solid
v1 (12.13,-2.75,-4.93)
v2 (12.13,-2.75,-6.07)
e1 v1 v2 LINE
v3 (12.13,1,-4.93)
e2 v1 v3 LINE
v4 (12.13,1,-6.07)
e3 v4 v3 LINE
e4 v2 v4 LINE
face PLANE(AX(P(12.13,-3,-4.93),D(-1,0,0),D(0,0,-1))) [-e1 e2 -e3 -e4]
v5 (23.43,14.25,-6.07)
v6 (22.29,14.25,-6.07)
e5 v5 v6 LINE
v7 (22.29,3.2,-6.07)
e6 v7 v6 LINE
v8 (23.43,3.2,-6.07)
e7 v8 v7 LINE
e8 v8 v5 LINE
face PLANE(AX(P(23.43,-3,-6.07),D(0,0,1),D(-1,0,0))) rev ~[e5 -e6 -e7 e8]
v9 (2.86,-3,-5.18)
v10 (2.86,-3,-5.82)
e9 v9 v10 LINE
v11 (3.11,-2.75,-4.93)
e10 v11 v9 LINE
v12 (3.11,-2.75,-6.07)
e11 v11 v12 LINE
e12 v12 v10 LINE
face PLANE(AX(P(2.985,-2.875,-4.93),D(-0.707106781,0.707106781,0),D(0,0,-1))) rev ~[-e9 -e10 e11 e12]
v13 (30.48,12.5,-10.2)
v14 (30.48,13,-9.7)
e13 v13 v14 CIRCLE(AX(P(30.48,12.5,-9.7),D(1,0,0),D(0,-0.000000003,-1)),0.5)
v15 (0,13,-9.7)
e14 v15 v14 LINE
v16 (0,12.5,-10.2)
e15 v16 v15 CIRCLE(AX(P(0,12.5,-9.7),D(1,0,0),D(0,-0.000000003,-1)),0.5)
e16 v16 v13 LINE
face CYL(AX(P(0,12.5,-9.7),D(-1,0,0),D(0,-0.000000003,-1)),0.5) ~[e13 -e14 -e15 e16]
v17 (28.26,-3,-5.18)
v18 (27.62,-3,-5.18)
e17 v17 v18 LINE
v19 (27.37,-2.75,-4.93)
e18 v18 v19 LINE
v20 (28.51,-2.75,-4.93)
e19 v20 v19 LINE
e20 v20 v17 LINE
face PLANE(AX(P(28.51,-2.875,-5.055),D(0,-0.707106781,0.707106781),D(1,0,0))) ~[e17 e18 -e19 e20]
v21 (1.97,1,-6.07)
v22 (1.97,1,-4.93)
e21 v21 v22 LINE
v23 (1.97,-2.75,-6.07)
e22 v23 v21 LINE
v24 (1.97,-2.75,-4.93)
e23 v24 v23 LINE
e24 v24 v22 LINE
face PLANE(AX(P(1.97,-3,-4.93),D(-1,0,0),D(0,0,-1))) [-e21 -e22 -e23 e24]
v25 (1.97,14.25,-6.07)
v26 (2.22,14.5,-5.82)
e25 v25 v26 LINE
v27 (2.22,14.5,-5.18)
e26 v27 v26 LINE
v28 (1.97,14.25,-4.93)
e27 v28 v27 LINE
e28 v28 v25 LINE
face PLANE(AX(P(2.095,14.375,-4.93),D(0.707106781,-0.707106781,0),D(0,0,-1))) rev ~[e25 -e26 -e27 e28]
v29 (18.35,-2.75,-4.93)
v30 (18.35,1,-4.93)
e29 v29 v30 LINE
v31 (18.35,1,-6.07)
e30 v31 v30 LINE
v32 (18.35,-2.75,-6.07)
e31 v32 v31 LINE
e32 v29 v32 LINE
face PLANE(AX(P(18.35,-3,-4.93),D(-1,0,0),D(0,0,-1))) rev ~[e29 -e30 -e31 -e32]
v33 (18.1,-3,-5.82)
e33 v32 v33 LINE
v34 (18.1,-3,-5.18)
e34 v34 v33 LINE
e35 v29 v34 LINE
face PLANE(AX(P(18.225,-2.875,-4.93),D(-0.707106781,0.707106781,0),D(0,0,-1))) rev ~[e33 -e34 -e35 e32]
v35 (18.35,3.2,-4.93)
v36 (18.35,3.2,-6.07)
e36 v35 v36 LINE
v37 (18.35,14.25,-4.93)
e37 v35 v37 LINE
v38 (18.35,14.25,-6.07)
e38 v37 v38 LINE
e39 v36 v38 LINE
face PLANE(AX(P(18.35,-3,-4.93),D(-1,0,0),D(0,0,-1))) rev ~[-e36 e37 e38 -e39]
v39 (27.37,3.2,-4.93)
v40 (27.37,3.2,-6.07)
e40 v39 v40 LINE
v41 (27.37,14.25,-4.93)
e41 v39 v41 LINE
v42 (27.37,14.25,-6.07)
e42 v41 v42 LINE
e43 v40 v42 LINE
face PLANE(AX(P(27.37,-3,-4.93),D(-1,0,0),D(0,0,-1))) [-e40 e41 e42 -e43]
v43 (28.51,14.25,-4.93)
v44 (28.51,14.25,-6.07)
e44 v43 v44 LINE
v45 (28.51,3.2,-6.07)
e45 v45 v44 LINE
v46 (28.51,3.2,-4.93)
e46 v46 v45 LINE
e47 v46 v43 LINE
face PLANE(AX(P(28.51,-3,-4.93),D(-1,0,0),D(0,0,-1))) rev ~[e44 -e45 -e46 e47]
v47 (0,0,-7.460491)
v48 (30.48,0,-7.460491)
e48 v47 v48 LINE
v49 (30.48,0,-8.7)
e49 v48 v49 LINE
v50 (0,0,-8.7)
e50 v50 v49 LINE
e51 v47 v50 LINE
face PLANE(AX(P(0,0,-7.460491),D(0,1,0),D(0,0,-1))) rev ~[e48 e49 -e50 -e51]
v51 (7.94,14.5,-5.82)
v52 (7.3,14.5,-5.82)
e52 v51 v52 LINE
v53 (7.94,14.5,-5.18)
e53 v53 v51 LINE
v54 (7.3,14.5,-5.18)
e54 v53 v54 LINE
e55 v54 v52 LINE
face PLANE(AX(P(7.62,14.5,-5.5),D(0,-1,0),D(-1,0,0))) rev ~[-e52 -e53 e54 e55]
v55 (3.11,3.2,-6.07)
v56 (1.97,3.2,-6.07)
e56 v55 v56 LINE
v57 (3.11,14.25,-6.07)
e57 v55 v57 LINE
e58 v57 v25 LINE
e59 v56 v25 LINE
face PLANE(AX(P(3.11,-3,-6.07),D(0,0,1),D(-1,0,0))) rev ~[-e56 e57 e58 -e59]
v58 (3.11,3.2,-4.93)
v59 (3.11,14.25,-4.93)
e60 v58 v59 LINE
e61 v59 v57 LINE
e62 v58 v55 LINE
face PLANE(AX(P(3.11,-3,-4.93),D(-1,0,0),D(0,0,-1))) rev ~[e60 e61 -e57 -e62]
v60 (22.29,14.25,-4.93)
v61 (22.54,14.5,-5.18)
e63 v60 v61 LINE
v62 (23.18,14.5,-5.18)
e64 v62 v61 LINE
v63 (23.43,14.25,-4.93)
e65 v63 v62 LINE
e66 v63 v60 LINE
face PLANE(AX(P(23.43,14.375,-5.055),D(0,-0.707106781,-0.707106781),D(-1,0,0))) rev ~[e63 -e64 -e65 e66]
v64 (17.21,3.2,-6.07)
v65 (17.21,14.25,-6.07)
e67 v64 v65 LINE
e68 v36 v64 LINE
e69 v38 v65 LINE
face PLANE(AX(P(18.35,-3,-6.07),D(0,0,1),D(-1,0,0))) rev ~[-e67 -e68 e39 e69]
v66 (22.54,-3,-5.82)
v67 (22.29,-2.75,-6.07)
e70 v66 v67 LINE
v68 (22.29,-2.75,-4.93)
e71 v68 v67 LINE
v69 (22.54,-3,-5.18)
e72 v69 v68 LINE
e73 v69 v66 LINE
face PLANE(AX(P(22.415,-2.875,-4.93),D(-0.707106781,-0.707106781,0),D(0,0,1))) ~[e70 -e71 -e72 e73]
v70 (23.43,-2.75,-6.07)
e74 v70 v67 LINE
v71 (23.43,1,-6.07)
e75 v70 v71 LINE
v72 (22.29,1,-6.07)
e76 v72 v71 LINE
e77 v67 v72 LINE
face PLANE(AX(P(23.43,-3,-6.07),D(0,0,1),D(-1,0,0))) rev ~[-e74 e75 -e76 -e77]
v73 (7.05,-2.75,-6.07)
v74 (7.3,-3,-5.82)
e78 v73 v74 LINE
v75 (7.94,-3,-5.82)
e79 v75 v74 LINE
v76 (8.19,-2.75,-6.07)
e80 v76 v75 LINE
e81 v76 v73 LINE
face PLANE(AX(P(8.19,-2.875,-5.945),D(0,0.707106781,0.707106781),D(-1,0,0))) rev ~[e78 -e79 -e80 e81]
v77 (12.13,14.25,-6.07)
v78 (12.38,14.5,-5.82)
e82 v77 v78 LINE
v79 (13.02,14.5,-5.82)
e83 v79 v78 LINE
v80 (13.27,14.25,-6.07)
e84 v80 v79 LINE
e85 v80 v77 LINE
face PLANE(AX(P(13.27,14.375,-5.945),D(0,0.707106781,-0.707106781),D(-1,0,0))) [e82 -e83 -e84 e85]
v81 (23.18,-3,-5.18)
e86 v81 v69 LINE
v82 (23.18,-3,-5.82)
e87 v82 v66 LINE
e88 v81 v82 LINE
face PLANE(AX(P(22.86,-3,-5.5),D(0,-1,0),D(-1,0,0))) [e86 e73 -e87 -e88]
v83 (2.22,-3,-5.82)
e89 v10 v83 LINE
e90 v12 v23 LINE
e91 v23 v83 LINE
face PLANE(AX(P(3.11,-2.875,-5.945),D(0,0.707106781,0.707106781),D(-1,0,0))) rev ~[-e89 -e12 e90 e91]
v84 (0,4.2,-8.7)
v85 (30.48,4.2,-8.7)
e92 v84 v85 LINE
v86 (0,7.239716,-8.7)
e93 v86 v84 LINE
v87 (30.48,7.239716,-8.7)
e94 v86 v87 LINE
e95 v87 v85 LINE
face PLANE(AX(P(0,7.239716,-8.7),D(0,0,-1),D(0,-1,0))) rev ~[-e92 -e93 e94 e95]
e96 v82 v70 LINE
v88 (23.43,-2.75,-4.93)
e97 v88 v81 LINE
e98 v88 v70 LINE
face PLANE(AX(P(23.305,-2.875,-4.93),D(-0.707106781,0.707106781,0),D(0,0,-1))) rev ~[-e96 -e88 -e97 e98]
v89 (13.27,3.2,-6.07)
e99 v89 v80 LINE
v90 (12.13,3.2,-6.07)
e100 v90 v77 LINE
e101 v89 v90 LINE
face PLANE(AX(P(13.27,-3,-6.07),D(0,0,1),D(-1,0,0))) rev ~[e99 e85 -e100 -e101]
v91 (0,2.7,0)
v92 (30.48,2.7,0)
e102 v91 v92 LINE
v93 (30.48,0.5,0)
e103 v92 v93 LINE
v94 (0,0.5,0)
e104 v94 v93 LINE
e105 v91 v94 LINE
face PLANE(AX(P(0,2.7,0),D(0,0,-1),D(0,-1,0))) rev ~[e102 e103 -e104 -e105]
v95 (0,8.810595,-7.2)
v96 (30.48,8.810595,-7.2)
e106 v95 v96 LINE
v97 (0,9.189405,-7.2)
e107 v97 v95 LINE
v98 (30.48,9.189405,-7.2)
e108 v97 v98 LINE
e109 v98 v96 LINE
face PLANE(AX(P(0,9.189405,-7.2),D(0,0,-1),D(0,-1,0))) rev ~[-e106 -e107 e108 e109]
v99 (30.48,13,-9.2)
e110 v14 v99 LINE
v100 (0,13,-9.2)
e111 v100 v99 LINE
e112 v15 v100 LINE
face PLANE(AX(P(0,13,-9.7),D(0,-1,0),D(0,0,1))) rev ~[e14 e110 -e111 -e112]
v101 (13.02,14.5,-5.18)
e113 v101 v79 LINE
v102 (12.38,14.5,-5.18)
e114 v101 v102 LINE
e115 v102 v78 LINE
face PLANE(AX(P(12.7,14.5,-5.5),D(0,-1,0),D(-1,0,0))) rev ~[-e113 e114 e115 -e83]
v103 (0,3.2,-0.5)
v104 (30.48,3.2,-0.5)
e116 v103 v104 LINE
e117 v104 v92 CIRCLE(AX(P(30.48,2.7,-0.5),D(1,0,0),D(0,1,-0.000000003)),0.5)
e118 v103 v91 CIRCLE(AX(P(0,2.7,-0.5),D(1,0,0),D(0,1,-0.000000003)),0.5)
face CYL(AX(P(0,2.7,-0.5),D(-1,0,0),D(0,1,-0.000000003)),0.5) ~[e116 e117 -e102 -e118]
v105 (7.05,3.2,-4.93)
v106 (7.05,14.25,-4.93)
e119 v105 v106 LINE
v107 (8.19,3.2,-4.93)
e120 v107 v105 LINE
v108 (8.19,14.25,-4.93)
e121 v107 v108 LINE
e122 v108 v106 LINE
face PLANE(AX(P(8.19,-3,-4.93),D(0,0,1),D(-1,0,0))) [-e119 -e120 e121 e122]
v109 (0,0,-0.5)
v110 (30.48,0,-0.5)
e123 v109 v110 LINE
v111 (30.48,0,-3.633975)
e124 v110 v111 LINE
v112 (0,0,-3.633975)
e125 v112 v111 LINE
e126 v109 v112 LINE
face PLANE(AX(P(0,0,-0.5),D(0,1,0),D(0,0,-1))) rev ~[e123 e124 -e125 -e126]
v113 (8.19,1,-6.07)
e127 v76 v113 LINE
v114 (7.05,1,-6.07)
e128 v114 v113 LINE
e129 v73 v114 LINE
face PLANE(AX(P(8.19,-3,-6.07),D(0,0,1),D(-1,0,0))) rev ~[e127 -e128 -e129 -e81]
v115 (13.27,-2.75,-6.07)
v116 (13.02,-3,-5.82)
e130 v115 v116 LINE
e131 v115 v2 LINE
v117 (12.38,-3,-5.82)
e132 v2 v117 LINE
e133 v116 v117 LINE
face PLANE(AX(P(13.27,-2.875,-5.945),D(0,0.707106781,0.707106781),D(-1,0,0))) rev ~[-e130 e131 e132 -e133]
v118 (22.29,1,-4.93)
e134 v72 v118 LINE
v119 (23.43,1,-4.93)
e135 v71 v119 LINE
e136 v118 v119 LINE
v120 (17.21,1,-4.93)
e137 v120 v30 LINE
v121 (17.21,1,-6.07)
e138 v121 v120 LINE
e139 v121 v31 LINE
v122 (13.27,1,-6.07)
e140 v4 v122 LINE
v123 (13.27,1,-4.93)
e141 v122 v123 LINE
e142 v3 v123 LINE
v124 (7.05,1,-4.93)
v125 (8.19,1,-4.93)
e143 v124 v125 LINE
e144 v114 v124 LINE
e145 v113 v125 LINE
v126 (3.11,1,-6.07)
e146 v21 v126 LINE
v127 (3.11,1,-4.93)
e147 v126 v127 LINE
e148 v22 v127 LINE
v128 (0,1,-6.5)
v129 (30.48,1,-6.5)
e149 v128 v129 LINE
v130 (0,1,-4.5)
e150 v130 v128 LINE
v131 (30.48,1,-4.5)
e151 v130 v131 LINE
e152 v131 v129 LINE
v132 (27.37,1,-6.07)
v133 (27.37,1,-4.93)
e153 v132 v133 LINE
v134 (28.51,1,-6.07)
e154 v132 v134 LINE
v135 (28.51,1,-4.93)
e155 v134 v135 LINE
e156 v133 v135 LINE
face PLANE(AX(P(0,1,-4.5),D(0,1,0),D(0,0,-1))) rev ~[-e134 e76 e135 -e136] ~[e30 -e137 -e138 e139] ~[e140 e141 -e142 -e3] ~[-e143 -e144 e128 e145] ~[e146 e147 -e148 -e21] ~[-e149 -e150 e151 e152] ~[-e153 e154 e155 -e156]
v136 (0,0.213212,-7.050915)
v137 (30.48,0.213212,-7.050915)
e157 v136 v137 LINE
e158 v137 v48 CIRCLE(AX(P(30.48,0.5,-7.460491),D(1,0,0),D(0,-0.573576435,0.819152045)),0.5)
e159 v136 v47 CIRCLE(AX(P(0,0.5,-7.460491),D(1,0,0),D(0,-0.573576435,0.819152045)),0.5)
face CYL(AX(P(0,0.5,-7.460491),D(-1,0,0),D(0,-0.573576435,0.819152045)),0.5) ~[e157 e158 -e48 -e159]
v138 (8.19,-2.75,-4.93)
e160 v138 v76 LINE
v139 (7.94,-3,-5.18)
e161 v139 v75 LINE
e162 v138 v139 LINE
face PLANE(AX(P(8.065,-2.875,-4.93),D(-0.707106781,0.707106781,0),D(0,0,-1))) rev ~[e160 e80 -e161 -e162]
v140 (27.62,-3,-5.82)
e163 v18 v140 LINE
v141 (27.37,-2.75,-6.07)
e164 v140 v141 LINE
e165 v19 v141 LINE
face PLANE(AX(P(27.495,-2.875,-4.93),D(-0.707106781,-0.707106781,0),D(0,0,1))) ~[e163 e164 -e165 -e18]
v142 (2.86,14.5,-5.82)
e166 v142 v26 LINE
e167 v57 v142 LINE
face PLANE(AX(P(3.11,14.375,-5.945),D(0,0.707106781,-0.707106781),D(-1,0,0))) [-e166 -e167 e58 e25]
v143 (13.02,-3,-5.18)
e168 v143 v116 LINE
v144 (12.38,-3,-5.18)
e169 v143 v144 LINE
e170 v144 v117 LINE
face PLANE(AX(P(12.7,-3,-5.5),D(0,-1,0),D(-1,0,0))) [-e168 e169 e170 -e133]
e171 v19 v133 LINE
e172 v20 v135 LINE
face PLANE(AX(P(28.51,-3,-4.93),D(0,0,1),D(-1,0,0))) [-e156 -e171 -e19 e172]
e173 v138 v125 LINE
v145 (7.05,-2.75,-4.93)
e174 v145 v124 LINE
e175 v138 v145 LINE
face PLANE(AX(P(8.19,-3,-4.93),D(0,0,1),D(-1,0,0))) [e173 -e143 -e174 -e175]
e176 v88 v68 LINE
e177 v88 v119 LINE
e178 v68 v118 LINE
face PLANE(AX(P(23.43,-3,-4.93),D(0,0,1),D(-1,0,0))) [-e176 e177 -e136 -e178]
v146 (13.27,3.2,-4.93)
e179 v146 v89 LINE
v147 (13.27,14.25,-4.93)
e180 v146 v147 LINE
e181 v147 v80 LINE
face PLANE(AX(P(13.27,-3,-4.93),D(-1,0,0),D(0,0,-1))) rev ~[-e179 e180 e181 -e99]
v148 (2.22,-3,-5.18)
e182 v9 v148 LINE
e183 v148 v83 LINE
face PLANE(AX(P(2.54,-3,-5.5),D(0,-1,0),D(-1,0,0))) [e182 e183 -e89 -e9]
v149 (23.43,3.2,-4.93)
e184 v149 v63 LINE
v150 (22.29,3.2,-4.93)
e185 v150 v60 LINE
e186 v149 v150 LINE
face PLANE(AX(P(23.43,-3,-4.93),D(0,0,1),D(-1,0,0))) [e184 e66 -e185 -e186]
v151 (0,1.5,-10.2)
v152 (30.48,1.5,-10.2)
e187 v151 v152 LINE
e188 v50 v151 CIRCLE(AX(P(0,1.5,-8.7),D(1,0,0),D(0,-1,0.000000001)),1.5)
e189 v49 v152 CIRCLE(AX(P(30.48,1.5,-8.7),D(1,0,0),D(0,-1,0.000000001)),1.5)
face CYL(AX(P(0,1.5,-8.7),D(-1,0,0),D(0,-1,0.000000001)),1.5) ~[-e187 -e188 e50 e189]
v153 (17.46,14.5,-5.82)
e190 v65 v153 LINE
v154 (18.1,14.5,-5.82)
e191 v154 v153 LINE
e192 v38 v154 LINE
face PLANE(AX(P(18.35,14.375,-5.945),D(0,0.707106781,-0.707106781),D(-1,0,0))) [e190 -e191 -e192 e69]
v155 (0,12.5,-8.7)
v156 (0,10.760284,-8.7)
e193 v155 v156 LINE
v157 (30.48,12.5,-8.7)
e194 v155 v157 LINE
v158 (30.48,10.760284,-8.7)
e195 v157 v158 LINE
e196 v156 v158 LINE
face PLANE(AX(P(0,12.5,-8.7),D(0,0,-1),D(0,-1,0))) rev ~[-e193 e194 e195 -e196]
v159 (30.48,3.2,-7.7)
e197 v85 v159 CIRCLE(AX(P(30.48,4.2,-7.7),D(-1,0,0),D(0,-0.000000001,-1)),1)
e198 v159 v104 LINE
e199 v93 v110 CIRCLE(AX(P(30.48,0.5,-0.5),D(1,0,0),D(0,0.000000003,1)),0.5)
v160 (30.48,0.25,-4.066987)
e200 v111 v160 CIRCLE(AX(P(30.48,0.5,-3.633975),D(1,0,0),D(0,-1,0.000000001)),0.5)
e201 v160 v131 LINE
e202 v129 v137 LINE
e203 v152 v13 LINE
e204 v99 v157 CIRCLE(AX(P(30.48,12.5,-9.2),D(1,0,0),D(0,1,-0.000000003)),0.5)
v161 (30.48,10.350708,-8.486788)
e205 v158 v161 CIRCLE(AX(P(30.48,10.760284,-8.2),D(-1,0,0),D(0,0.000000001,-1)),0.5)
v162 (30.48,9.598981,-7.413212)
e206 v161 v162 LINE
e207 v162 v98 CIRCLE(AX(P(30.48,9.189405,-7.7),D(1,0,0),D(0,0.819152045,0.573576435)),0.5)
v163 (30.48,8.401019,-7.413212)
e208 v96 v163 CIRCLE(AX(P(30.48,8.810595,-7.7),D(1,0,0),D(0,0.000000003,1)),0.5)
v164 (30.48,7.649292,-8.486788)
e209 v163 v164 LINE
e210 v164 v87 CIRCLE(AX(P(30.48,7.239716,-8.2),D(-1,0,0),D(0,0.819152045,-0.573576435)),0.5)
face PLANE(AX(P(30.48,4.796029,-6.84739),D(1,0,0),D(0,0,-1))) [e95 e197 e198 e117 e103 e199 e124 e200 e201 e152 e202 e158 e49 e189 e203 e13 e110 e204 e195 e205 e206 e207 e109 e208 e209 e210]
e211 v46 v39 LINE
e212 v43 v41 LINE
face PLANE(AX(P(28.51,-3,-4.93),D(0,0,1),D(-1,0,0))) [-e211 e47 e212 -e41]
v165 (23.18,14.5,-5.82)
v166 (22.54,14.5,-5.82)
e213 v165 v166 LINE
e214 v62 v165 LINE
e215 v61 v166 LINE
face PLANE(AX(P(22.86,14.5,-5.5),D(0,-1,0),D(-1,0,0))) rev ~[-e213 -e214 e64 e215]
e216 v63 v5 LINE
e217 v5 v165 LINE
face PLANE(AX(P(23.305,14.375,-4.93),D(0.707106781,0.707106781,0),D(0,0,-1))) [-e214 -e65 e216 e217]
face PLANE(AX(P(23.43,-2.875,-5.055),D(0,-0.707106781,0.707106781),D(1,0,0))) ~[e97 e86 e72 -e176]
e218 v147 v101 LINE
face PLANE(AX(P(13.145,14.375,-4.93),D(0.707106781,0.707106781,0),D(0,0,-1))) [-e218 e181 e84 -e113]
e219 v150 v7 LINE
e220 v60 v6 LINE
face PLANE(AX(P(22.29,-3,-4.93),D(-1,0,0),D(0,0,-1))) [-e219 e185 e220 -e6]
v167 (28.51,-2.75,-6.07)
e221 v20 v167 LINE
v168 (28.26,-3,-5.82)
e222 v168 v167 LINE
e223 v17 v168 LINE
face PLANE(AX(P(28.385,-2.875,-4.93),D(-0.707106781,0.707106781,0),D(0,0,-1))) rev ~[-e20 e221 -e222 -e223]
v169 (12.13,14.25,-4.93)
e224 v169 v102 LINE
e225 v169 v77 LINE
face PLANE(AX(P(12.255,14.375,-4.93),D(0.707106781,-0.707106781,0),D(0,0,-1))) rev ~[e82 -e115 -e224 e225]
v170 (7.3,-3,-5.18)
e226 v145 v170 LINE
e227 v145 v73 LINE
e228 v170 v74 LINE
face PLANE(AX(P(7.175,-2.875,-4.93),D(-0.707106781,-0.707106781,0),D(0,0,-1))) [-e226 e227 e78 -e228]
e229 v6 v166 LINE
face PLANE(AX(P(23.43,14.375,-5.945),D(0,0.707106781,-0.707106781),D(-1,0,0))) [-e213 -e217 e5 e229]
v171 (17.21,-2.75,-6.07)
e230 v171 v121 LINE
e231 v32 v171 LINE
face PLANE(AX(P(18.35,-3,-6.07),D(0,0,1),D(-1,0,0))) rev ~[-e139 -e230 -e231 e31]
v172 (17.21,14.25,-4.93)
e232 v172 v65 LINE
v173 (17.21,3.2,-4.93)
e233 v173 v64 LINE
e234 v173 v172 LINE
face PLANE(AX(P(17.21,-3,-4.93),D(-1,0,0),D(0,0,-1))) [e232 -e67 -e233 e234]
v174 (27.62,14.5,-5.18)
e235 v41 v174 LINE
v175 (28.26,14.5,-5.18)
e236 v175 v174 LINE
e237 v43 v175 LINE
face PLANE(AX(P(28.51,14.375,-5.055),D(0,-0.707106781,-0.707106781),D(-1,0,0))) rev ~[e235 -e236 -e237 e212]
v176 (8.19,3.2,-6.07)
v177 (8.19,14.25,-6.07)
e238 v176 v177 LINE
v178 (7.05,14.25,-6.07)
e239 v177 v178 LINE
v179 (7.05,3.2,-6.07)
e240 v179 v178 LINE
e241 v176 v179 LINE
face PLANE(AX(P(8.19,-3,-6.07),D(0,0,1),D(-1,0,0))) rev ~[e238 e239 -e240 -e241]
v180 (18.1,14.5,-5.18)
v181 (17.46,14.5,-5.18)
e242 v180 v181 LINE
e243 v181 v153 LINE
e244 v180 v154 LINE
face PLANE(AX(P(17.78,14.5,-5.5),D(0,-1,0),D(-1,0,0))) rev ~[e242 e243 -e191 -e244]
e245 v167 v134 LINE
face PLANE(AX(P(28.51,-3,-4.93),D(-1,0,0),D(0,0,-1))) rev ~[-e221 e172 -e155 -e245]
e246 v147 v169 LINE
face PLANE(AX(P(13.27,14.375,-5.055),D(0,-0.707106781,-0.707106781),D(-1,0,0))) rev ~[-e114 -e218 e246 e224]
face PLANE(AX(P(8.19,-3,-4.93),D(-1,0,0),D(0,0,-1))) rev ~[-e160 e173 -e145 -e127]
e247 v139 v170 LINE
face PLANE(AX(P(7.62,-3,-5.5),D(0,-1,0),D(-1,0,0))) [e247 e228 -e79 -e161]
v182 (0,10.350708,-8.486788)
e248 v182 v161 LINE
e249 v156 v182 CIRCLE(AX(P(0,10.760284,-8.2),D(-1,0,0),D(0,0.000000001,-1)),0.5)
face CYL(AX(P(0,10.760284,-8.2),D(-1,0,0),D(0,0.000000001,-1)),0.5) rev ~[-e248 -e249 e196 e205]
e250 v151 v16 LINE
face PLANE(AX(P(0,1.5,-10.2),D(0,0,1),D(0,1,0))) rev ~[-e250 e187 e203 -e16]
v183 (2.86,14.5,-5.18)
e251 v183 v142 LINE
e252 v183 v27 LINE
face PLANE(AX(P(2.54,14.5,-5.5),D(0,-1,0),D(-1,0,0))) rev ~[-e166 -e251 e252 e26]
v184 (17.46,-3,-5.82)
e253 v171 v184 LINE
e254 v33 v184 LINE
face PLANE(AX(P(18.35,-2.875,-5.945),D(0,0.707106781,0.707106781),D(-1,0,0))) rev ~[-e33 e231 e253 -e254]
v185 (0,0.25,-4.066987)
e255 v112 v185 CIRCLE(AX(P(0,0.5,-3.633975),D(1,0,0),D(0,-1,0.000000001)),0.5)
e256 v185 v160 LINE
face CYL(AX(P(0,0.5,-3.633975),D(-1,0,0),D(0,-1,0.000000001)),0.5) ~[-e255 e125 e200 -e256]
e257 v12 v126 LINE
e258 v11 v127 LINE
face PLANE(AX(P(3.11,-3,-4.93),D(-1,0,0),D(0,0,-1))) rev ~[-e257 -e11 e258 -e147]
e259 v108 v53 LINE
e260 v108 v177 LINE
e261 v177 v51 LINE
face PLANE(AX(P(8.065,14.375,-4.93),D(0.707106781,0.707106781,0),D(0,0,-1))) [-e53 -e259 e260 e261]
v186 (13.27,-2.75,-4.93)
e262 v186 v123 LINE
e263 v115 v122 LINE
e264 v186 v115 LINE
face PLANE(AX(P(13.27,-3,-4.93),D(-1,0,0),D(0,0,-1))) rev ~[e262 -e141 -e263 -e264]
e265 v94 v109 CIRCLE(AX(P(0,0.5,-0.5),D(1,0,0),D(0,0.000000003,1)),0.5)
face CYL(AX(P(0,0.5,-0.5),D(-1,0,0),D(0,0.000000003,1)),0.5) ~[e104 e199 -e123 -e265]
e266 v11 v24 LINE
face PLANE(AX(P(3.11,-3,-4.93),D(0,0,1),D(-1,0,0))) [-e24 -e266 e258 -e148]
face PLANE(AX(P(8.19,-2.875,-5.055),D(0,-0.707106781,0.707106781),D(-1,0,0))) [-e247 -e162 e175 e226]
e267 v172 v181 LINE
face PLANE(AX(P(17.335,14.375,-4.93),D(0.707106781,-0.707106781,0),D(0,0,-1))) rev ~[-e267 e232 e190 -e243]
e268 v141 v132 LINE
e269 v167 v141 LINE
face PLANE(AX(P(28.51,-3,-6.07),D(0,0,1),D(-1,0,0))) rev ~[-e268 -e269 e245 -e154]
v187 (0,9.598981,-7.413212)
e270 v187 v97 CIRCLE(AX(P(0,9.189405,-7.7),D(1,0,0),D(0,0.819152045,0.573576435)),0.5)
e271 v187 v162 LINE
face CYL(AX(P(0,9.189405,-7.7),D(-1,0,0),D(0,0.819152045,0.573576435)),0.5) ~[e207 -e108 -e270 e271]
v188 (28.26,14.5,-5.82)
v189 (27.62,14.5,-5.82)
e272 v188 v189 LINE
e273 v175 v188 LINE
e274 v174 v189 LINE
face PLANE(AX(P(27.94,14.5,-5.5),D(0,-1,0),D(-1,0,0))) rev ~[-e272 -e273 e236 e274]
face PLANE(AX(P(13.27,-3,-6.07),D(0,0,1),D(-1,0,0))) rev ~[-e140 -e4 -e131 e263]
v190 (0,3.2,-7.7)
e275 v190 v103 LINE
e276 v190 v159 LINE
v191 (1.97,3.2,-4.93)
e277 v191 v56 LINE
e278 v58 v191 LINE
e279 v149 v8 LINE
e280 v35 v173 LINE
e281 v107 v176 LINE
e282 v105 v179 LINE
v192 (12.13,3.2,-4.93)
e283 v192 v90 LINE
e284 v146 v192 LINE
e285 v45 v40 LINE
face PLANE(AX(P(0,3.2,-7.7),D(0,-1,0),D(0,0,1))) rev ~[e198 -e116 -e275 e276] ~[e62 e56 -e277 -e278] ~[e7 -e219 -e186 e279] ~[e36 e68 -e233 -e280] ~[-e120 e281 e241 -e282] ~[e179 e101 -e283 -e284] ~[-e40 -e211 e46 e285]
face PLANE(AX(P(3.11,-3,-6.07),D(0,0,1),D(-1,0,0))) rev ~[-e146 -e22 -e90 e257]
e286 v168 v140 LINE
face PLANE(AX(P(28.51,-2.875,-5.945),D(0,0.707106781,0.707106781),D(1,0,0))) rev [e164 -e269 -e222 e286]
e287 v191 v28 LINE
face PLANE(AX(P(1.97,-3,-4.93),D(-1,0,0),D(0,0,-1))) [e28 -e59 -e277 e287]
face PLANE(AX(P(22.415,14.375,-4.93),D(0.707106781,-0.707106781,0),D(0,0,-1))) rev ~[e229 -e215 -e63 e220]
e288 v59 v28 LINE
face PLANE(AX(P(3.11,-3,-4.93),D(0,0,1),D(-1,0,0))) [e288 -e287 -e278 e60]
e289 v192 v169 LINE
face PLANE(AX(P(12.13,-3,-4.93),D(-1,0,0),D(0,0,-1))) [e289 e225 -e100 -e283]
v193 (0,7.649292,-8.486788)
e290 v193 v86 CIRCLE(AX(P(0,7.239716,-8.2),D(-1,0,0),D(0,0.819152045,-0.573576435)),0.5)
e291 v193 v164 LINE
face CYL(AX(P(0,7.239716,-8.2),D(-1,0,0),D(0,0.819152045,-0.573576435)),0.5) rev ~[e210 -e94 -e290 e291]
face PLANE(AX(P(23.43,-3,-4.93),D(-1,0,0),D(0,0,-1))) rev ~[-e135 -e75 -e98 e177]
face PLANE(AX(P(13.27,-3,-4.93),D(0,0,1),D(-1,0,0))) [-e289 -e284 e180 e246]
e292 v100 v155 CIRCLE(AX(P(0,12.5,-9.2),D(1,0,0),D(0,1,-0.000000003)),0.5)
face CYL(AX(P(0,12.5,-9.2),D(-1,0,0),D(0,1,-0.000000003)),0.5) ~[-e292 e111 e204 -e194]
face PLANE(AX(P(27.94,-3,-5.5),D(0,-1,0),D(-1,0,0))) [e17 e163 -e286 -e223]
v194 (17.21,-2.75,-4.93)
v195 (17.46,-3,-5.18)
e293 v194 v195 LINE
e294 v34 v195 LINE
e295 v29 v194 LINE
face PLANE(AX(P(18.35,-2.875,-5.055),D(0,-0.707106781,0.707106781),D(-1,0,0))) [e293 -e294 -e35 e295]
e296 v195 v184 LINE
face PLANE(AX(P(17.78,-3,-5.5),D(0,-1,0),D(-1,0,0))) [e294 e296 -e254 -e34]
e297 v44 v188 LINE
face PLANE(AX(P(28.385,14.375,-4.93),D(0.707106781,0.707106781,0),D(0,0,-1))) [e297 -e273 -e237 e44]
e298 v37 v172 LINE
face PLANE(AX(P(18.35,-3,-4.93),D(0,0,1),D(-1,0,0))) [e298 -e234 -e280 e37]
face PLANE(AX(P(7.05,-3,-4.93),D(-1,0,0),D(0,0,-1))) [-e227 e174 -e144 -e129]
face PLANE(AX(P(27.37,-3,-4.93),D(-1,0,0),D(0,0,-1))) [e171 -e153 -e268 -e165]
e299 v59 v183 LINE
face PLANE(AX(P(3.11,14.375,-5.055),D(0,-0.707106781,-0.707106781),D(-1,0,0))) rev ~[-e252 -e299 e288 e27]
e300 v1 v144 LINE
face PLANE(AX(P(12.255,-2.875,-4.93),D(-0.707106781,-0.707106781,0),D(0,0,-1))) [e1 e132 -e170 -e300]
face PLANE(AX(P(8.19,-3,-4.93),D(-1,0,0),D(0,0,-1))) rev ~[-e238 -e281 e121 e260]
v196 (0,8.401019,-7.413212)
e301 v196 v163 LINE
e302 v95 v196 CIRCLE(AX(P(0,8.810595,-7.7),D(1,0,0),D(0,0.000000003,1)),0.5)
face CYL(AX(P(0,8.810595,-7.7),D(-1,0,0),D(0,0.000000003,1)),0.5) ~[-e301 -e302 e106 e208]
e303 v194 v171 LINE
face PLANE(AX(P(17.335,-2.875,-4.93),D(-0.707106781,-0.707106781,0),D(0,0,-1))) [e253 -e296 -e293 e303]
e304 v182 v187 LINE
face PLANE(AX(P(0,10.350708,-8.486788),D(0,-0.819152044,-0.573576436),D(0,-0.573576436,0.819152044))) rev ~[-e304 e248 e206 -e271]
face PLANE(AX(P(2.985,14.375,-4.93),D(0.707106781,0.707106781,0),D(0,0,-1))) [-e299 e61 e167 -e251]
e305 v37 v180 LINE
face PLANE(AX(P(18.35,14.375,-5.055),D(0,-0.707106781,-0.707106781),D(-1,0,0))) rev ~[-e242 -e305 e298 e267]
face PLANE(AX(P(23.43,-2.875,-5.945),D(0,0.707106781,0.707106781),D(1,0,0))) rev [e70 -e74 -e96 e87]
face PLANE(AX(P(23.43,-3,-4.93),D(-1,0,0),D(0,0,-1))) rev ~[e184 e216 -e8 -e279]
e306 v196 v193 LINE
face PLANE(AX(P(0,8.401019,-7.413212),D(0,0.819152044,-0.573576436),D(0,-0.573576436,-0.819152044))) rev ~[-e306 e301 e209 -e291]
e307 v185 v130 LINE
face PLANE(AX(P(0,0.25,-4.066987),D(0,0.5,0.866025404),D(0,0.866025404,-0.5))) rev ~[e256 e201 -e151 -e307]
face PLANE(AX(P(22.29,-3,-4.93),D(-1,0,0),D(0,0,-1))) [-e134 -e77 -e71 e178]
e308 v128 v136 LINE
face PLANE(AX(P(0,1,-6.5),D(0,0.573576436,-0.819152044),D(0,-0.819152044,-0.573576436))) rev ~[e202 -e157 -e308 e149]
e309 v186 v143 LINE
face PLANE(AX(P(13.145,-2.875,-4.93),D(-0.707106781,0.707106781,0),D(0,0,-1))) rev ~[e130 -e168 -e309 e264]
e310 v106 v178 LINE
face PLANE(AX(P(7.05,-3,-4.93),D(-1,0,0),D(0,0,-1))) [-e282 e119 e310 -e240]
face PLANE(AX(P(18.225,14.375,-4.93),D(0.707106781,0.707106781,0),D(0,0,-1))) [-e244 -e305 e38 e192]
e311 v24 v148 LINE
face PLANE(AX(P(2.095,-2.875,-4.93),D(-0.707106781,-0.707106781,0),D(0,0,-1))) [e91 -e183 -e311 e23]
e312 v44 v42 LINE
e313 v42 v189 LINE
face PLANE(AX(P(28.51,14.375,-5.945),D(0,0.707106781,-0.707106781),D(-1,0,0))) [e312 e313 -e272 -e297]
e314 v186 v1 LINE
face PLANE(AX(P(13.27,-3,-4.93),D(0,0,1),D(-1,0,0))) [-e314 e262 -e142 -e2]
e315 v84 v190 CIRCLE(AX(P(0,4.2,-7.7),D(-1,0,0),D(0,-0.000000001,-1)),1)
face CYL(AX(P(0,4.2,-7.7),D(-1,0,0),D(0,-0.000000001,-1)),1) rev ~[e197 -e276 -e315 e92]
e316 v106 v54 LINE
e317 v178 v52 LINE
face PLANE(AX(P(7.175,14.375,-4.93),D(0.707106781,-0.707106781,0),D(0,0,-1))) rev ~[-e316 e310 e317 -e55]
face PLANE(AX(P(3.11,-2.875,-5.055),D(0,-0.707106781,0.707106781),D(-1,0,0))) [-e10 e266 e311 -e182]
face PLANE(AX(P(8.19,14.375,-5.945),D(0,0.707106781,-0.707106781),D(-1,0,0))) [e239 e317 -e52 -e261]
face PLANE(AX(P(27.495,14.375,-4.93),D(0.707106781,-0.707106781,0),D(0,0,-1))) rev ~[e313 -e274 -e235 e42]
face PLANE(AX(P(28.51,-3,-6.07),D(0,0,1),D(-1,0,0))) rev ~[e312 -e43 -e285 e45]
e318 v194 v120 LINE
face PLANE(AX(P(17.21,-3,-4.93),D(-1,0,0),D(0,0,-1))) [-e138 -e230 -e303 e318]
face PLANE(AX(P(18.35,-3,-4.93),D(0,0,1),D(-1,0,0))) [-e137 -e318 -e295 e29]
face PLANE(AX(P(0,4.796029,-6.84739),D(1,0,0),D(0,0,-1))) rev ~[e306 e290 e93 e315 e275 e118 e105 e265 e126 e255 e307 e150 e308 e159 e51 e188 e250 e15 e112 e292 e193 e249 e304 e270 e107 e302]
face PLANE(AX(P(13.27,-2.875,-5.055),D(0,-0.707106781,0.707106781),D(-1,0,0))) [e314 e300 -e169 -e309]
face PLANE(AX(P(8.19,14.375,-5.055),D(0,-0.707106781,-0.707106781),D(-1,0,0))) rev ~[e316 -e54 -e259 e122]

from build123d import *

# Parameters (mm, degrees)
BOSS_EXTRUDE1_DEPTH        = 30.48
SKETCH2_W                  = 1.14
SKETCH2_H                  = 1.14
BOSS_EXTRUDE2_DEPTH        = 17.5
CHAMFER1_SIZE              = 0.25
CHAMFER2_SIZE              = 0.25
LPATTERN3_COUNT            = 6
LPATTERN3_PITCH            = 5.08
CHAMFER1_OF_LPATTERN3_SIZE = 0.25
CHAMFER2_OF_LPATTERN3_SIZE = 0.25


with BuildPart() as part:
    # Sketch1 → Boss-Extrude1 (new body)
    with BuildSketch(Plane(origin=(0, 0, 0), x_dir=(0, 0, -1), z_dir=(1, 0, 0))):
        with BuildLine():
            Line((0, 2.7), (0, 0.5))
            ThreePointArc((0, 0.5), (0.146446609, 0.146446609), (0.5, 0))
            Line((0.5, 0), (3.633974596, 0))
            ThreePointArc((3.633974596, 0), (3.883974596, 0.066987298), (4.066987298, 0.25))
            Line((4.066987298, 0.25), (4.5, 1))
            Line((4.5, 1), (6.5, 1))
            Line((6.5, 1), (7.050915041, 0.213211782))
            ThreePointArc((7.050915041, 0.213211782), (7.229616757, 0.056494583), (7.460491063, 0))
            Line((7.460491063, 0), (8.7, 0))
            ThreePointArc((8.7, 0), (9.760660172, 0.439339828), (10.2, 1.5))
            Line((10.2, 1.5), (10.2, 12.5))
            ThreePointArc((10.2, 12.5), (10.053553391, 12.853553391), (9.7, 13))
            Line((9.7, 13), (9.2, 13))
            ThreePointArc((9.2, 13), (8.846446609, 12.853553391), (8.7, 12.5))
            Line((8.7, 12.5), (8.7, 10.760283525))
            ThreePointArc((8.7, 10.760283525), (8.643505417, 10.529409219), (8.486788218, 10.350707503))
            Line((8.486788218, 10.350707503), (7.413211782, 9.59898119))
            ThreePointArc((7.413211782, 9.59898119), (7.256494583, 9.420279474), (7.2, 9.189405167))
            Line((7.2, 9.189405167), (7.2, 8.810594833))
            ThreePointArc((7.2, 8.810594833), (7.256494583, 8.579720526), (7.413211782, 8.40101881))
            Line((7.413211782, 8.40101881), (8.486788218, 7.649292497))
            ThreePointArc((8.486788218, 7.649292497), (8.643505417, 7.470590781), (8.7, 7.239716475))
            Line((8.7, 7.239716475), (8.7, 4.2))
            ThreePointArc((8.7, 4.2), (8.407106781, 3.492893219), (7.7, 3.2))
            Line((7.7, 3.2), (0.5, 3.2))
            ThreePointArc((0.5, 3.2), (0.146446609, 3.053553391), (0, 2.7))
        make_face()
    extrude(amount=BOSS_EXTRUDE1_DEPTH)

    # Sketch2 → Boss-Extrude2 (add)
    with BuildSketch(Plane(origin=(0, -3, 0), x_dir=(-1, 0, 0), z_dir=(0, -1, 0))):
        with Locations((-27.94, 5.5)):
            Rectangle(SKETCH2_W, SKETCH2_H)
    boss_extrude2 = extrude(amount=-BOSS_EXTRUDE2_DEPTH)

    # Chamfer1
    chamfer1_edges = [part.edges().sort_by_distance(p)[0] for p in [
        (27.37, -3, -5.5),
        (27.94, -3, -6.07),
        (28.51, -3, -5.5),
        (27.94, -3, -4.93),
    ]]
    chamfer(chamfer1_edges, length=CHAMFER1_SIZE)

    # Chamfer2
    chamfer2_edges = [part.edges().sort_by_distance(p)[0] for p in [
        (27.37, 14.5, -5.5),
        (27.94, 14.5, -4.93),
        (28.51, 14.5, -5.5),
        (27.94, 14.5, -6.07),
    ]]
    chamfer(chamfer2_edges, length=CHAMFER2_SIZE)

    # LPattern3: Boss-Extrude2 ×6
    with Locations(*[(-i * LPATTERN3_PITCH, 0, 0) for i in range(1, LPATTERN3_COUNT)]):
        add(boss_extrude2)

    # Chamfer1 of LPattern3
    chamfer1_of_lpattern3_edges = [part.edges().sort_by_distance(p)[0] for p in [
        (22.29, -3, -5.5),
        (22.86, -3, -6.07),
        (23.43, -3, -5.5),
        (22.86, -3, -4.93),
        (17.21, -3, -5.5),
        (17.78, -3, -6.07),
        (18.35, -3, -5.5),
        (17.78, -3, -4.93),
        (12.13, -3, -5.5),
        (12.7, -3, -6.07),
        (13.27, -3, -5.5),
        (12.7, -3, -4.93),
        (7.05, -3, -5.5),
        (7.62, -3, -6.07),
        (8.19, -3, -5.5),
        (7.62, -3, -4.93),
        (1.97, -3, -5.5),
        (2.54, -3, -6.07),
        (3.11, -3, -5.5),
        (2.54, -3, -4.93),
    ]]
    chamfer(chamfer1_of_lpattern3_edges, length=CHAMFER1_OF_LPATTERN3_SIZE)

    # Chamfer2 of LPattern3
    chamfer2_of_lpattern3_edges = [part.edges().sort_by_distance(p)[0] for p in [
        (22.29, 14.5, -5.5),
        (22.86, 14.5, -4.93),
        (23.43, 14.5, -5.5),
        (22.86, 14.5, -6.07),
        (17.21, 14.5, -5.5),
        (17.78, 14.5, -4.93),
        (18.35, 14.5, -5.5),
        (17.78, 14.5, -6.07),
        (12.13, 14.5, -5.5),
        (12.7, 14.5, -4.93),
        (13.27, 14.5, -5.5),
        (12.7, 14.5, -6.07),
        (7.05, 14.5, -5.5),
        (7.62, 14.5, -4.93),
        (8.19, 14.5, -5.5),
        (7.62, 14.5, -6.07),
        (1.97, 14.5, -5.5),
        (2.54, 14.5, -4.93),
        (3.11, 14.5, -5.5),
        (2.54, 14.5, -6.07),
    ]]
    chamfer(chamfer2_of_lpattern3_edges, length=CHAMFER2_OF_LPATTERN3_SIZE)


solid = part.part
